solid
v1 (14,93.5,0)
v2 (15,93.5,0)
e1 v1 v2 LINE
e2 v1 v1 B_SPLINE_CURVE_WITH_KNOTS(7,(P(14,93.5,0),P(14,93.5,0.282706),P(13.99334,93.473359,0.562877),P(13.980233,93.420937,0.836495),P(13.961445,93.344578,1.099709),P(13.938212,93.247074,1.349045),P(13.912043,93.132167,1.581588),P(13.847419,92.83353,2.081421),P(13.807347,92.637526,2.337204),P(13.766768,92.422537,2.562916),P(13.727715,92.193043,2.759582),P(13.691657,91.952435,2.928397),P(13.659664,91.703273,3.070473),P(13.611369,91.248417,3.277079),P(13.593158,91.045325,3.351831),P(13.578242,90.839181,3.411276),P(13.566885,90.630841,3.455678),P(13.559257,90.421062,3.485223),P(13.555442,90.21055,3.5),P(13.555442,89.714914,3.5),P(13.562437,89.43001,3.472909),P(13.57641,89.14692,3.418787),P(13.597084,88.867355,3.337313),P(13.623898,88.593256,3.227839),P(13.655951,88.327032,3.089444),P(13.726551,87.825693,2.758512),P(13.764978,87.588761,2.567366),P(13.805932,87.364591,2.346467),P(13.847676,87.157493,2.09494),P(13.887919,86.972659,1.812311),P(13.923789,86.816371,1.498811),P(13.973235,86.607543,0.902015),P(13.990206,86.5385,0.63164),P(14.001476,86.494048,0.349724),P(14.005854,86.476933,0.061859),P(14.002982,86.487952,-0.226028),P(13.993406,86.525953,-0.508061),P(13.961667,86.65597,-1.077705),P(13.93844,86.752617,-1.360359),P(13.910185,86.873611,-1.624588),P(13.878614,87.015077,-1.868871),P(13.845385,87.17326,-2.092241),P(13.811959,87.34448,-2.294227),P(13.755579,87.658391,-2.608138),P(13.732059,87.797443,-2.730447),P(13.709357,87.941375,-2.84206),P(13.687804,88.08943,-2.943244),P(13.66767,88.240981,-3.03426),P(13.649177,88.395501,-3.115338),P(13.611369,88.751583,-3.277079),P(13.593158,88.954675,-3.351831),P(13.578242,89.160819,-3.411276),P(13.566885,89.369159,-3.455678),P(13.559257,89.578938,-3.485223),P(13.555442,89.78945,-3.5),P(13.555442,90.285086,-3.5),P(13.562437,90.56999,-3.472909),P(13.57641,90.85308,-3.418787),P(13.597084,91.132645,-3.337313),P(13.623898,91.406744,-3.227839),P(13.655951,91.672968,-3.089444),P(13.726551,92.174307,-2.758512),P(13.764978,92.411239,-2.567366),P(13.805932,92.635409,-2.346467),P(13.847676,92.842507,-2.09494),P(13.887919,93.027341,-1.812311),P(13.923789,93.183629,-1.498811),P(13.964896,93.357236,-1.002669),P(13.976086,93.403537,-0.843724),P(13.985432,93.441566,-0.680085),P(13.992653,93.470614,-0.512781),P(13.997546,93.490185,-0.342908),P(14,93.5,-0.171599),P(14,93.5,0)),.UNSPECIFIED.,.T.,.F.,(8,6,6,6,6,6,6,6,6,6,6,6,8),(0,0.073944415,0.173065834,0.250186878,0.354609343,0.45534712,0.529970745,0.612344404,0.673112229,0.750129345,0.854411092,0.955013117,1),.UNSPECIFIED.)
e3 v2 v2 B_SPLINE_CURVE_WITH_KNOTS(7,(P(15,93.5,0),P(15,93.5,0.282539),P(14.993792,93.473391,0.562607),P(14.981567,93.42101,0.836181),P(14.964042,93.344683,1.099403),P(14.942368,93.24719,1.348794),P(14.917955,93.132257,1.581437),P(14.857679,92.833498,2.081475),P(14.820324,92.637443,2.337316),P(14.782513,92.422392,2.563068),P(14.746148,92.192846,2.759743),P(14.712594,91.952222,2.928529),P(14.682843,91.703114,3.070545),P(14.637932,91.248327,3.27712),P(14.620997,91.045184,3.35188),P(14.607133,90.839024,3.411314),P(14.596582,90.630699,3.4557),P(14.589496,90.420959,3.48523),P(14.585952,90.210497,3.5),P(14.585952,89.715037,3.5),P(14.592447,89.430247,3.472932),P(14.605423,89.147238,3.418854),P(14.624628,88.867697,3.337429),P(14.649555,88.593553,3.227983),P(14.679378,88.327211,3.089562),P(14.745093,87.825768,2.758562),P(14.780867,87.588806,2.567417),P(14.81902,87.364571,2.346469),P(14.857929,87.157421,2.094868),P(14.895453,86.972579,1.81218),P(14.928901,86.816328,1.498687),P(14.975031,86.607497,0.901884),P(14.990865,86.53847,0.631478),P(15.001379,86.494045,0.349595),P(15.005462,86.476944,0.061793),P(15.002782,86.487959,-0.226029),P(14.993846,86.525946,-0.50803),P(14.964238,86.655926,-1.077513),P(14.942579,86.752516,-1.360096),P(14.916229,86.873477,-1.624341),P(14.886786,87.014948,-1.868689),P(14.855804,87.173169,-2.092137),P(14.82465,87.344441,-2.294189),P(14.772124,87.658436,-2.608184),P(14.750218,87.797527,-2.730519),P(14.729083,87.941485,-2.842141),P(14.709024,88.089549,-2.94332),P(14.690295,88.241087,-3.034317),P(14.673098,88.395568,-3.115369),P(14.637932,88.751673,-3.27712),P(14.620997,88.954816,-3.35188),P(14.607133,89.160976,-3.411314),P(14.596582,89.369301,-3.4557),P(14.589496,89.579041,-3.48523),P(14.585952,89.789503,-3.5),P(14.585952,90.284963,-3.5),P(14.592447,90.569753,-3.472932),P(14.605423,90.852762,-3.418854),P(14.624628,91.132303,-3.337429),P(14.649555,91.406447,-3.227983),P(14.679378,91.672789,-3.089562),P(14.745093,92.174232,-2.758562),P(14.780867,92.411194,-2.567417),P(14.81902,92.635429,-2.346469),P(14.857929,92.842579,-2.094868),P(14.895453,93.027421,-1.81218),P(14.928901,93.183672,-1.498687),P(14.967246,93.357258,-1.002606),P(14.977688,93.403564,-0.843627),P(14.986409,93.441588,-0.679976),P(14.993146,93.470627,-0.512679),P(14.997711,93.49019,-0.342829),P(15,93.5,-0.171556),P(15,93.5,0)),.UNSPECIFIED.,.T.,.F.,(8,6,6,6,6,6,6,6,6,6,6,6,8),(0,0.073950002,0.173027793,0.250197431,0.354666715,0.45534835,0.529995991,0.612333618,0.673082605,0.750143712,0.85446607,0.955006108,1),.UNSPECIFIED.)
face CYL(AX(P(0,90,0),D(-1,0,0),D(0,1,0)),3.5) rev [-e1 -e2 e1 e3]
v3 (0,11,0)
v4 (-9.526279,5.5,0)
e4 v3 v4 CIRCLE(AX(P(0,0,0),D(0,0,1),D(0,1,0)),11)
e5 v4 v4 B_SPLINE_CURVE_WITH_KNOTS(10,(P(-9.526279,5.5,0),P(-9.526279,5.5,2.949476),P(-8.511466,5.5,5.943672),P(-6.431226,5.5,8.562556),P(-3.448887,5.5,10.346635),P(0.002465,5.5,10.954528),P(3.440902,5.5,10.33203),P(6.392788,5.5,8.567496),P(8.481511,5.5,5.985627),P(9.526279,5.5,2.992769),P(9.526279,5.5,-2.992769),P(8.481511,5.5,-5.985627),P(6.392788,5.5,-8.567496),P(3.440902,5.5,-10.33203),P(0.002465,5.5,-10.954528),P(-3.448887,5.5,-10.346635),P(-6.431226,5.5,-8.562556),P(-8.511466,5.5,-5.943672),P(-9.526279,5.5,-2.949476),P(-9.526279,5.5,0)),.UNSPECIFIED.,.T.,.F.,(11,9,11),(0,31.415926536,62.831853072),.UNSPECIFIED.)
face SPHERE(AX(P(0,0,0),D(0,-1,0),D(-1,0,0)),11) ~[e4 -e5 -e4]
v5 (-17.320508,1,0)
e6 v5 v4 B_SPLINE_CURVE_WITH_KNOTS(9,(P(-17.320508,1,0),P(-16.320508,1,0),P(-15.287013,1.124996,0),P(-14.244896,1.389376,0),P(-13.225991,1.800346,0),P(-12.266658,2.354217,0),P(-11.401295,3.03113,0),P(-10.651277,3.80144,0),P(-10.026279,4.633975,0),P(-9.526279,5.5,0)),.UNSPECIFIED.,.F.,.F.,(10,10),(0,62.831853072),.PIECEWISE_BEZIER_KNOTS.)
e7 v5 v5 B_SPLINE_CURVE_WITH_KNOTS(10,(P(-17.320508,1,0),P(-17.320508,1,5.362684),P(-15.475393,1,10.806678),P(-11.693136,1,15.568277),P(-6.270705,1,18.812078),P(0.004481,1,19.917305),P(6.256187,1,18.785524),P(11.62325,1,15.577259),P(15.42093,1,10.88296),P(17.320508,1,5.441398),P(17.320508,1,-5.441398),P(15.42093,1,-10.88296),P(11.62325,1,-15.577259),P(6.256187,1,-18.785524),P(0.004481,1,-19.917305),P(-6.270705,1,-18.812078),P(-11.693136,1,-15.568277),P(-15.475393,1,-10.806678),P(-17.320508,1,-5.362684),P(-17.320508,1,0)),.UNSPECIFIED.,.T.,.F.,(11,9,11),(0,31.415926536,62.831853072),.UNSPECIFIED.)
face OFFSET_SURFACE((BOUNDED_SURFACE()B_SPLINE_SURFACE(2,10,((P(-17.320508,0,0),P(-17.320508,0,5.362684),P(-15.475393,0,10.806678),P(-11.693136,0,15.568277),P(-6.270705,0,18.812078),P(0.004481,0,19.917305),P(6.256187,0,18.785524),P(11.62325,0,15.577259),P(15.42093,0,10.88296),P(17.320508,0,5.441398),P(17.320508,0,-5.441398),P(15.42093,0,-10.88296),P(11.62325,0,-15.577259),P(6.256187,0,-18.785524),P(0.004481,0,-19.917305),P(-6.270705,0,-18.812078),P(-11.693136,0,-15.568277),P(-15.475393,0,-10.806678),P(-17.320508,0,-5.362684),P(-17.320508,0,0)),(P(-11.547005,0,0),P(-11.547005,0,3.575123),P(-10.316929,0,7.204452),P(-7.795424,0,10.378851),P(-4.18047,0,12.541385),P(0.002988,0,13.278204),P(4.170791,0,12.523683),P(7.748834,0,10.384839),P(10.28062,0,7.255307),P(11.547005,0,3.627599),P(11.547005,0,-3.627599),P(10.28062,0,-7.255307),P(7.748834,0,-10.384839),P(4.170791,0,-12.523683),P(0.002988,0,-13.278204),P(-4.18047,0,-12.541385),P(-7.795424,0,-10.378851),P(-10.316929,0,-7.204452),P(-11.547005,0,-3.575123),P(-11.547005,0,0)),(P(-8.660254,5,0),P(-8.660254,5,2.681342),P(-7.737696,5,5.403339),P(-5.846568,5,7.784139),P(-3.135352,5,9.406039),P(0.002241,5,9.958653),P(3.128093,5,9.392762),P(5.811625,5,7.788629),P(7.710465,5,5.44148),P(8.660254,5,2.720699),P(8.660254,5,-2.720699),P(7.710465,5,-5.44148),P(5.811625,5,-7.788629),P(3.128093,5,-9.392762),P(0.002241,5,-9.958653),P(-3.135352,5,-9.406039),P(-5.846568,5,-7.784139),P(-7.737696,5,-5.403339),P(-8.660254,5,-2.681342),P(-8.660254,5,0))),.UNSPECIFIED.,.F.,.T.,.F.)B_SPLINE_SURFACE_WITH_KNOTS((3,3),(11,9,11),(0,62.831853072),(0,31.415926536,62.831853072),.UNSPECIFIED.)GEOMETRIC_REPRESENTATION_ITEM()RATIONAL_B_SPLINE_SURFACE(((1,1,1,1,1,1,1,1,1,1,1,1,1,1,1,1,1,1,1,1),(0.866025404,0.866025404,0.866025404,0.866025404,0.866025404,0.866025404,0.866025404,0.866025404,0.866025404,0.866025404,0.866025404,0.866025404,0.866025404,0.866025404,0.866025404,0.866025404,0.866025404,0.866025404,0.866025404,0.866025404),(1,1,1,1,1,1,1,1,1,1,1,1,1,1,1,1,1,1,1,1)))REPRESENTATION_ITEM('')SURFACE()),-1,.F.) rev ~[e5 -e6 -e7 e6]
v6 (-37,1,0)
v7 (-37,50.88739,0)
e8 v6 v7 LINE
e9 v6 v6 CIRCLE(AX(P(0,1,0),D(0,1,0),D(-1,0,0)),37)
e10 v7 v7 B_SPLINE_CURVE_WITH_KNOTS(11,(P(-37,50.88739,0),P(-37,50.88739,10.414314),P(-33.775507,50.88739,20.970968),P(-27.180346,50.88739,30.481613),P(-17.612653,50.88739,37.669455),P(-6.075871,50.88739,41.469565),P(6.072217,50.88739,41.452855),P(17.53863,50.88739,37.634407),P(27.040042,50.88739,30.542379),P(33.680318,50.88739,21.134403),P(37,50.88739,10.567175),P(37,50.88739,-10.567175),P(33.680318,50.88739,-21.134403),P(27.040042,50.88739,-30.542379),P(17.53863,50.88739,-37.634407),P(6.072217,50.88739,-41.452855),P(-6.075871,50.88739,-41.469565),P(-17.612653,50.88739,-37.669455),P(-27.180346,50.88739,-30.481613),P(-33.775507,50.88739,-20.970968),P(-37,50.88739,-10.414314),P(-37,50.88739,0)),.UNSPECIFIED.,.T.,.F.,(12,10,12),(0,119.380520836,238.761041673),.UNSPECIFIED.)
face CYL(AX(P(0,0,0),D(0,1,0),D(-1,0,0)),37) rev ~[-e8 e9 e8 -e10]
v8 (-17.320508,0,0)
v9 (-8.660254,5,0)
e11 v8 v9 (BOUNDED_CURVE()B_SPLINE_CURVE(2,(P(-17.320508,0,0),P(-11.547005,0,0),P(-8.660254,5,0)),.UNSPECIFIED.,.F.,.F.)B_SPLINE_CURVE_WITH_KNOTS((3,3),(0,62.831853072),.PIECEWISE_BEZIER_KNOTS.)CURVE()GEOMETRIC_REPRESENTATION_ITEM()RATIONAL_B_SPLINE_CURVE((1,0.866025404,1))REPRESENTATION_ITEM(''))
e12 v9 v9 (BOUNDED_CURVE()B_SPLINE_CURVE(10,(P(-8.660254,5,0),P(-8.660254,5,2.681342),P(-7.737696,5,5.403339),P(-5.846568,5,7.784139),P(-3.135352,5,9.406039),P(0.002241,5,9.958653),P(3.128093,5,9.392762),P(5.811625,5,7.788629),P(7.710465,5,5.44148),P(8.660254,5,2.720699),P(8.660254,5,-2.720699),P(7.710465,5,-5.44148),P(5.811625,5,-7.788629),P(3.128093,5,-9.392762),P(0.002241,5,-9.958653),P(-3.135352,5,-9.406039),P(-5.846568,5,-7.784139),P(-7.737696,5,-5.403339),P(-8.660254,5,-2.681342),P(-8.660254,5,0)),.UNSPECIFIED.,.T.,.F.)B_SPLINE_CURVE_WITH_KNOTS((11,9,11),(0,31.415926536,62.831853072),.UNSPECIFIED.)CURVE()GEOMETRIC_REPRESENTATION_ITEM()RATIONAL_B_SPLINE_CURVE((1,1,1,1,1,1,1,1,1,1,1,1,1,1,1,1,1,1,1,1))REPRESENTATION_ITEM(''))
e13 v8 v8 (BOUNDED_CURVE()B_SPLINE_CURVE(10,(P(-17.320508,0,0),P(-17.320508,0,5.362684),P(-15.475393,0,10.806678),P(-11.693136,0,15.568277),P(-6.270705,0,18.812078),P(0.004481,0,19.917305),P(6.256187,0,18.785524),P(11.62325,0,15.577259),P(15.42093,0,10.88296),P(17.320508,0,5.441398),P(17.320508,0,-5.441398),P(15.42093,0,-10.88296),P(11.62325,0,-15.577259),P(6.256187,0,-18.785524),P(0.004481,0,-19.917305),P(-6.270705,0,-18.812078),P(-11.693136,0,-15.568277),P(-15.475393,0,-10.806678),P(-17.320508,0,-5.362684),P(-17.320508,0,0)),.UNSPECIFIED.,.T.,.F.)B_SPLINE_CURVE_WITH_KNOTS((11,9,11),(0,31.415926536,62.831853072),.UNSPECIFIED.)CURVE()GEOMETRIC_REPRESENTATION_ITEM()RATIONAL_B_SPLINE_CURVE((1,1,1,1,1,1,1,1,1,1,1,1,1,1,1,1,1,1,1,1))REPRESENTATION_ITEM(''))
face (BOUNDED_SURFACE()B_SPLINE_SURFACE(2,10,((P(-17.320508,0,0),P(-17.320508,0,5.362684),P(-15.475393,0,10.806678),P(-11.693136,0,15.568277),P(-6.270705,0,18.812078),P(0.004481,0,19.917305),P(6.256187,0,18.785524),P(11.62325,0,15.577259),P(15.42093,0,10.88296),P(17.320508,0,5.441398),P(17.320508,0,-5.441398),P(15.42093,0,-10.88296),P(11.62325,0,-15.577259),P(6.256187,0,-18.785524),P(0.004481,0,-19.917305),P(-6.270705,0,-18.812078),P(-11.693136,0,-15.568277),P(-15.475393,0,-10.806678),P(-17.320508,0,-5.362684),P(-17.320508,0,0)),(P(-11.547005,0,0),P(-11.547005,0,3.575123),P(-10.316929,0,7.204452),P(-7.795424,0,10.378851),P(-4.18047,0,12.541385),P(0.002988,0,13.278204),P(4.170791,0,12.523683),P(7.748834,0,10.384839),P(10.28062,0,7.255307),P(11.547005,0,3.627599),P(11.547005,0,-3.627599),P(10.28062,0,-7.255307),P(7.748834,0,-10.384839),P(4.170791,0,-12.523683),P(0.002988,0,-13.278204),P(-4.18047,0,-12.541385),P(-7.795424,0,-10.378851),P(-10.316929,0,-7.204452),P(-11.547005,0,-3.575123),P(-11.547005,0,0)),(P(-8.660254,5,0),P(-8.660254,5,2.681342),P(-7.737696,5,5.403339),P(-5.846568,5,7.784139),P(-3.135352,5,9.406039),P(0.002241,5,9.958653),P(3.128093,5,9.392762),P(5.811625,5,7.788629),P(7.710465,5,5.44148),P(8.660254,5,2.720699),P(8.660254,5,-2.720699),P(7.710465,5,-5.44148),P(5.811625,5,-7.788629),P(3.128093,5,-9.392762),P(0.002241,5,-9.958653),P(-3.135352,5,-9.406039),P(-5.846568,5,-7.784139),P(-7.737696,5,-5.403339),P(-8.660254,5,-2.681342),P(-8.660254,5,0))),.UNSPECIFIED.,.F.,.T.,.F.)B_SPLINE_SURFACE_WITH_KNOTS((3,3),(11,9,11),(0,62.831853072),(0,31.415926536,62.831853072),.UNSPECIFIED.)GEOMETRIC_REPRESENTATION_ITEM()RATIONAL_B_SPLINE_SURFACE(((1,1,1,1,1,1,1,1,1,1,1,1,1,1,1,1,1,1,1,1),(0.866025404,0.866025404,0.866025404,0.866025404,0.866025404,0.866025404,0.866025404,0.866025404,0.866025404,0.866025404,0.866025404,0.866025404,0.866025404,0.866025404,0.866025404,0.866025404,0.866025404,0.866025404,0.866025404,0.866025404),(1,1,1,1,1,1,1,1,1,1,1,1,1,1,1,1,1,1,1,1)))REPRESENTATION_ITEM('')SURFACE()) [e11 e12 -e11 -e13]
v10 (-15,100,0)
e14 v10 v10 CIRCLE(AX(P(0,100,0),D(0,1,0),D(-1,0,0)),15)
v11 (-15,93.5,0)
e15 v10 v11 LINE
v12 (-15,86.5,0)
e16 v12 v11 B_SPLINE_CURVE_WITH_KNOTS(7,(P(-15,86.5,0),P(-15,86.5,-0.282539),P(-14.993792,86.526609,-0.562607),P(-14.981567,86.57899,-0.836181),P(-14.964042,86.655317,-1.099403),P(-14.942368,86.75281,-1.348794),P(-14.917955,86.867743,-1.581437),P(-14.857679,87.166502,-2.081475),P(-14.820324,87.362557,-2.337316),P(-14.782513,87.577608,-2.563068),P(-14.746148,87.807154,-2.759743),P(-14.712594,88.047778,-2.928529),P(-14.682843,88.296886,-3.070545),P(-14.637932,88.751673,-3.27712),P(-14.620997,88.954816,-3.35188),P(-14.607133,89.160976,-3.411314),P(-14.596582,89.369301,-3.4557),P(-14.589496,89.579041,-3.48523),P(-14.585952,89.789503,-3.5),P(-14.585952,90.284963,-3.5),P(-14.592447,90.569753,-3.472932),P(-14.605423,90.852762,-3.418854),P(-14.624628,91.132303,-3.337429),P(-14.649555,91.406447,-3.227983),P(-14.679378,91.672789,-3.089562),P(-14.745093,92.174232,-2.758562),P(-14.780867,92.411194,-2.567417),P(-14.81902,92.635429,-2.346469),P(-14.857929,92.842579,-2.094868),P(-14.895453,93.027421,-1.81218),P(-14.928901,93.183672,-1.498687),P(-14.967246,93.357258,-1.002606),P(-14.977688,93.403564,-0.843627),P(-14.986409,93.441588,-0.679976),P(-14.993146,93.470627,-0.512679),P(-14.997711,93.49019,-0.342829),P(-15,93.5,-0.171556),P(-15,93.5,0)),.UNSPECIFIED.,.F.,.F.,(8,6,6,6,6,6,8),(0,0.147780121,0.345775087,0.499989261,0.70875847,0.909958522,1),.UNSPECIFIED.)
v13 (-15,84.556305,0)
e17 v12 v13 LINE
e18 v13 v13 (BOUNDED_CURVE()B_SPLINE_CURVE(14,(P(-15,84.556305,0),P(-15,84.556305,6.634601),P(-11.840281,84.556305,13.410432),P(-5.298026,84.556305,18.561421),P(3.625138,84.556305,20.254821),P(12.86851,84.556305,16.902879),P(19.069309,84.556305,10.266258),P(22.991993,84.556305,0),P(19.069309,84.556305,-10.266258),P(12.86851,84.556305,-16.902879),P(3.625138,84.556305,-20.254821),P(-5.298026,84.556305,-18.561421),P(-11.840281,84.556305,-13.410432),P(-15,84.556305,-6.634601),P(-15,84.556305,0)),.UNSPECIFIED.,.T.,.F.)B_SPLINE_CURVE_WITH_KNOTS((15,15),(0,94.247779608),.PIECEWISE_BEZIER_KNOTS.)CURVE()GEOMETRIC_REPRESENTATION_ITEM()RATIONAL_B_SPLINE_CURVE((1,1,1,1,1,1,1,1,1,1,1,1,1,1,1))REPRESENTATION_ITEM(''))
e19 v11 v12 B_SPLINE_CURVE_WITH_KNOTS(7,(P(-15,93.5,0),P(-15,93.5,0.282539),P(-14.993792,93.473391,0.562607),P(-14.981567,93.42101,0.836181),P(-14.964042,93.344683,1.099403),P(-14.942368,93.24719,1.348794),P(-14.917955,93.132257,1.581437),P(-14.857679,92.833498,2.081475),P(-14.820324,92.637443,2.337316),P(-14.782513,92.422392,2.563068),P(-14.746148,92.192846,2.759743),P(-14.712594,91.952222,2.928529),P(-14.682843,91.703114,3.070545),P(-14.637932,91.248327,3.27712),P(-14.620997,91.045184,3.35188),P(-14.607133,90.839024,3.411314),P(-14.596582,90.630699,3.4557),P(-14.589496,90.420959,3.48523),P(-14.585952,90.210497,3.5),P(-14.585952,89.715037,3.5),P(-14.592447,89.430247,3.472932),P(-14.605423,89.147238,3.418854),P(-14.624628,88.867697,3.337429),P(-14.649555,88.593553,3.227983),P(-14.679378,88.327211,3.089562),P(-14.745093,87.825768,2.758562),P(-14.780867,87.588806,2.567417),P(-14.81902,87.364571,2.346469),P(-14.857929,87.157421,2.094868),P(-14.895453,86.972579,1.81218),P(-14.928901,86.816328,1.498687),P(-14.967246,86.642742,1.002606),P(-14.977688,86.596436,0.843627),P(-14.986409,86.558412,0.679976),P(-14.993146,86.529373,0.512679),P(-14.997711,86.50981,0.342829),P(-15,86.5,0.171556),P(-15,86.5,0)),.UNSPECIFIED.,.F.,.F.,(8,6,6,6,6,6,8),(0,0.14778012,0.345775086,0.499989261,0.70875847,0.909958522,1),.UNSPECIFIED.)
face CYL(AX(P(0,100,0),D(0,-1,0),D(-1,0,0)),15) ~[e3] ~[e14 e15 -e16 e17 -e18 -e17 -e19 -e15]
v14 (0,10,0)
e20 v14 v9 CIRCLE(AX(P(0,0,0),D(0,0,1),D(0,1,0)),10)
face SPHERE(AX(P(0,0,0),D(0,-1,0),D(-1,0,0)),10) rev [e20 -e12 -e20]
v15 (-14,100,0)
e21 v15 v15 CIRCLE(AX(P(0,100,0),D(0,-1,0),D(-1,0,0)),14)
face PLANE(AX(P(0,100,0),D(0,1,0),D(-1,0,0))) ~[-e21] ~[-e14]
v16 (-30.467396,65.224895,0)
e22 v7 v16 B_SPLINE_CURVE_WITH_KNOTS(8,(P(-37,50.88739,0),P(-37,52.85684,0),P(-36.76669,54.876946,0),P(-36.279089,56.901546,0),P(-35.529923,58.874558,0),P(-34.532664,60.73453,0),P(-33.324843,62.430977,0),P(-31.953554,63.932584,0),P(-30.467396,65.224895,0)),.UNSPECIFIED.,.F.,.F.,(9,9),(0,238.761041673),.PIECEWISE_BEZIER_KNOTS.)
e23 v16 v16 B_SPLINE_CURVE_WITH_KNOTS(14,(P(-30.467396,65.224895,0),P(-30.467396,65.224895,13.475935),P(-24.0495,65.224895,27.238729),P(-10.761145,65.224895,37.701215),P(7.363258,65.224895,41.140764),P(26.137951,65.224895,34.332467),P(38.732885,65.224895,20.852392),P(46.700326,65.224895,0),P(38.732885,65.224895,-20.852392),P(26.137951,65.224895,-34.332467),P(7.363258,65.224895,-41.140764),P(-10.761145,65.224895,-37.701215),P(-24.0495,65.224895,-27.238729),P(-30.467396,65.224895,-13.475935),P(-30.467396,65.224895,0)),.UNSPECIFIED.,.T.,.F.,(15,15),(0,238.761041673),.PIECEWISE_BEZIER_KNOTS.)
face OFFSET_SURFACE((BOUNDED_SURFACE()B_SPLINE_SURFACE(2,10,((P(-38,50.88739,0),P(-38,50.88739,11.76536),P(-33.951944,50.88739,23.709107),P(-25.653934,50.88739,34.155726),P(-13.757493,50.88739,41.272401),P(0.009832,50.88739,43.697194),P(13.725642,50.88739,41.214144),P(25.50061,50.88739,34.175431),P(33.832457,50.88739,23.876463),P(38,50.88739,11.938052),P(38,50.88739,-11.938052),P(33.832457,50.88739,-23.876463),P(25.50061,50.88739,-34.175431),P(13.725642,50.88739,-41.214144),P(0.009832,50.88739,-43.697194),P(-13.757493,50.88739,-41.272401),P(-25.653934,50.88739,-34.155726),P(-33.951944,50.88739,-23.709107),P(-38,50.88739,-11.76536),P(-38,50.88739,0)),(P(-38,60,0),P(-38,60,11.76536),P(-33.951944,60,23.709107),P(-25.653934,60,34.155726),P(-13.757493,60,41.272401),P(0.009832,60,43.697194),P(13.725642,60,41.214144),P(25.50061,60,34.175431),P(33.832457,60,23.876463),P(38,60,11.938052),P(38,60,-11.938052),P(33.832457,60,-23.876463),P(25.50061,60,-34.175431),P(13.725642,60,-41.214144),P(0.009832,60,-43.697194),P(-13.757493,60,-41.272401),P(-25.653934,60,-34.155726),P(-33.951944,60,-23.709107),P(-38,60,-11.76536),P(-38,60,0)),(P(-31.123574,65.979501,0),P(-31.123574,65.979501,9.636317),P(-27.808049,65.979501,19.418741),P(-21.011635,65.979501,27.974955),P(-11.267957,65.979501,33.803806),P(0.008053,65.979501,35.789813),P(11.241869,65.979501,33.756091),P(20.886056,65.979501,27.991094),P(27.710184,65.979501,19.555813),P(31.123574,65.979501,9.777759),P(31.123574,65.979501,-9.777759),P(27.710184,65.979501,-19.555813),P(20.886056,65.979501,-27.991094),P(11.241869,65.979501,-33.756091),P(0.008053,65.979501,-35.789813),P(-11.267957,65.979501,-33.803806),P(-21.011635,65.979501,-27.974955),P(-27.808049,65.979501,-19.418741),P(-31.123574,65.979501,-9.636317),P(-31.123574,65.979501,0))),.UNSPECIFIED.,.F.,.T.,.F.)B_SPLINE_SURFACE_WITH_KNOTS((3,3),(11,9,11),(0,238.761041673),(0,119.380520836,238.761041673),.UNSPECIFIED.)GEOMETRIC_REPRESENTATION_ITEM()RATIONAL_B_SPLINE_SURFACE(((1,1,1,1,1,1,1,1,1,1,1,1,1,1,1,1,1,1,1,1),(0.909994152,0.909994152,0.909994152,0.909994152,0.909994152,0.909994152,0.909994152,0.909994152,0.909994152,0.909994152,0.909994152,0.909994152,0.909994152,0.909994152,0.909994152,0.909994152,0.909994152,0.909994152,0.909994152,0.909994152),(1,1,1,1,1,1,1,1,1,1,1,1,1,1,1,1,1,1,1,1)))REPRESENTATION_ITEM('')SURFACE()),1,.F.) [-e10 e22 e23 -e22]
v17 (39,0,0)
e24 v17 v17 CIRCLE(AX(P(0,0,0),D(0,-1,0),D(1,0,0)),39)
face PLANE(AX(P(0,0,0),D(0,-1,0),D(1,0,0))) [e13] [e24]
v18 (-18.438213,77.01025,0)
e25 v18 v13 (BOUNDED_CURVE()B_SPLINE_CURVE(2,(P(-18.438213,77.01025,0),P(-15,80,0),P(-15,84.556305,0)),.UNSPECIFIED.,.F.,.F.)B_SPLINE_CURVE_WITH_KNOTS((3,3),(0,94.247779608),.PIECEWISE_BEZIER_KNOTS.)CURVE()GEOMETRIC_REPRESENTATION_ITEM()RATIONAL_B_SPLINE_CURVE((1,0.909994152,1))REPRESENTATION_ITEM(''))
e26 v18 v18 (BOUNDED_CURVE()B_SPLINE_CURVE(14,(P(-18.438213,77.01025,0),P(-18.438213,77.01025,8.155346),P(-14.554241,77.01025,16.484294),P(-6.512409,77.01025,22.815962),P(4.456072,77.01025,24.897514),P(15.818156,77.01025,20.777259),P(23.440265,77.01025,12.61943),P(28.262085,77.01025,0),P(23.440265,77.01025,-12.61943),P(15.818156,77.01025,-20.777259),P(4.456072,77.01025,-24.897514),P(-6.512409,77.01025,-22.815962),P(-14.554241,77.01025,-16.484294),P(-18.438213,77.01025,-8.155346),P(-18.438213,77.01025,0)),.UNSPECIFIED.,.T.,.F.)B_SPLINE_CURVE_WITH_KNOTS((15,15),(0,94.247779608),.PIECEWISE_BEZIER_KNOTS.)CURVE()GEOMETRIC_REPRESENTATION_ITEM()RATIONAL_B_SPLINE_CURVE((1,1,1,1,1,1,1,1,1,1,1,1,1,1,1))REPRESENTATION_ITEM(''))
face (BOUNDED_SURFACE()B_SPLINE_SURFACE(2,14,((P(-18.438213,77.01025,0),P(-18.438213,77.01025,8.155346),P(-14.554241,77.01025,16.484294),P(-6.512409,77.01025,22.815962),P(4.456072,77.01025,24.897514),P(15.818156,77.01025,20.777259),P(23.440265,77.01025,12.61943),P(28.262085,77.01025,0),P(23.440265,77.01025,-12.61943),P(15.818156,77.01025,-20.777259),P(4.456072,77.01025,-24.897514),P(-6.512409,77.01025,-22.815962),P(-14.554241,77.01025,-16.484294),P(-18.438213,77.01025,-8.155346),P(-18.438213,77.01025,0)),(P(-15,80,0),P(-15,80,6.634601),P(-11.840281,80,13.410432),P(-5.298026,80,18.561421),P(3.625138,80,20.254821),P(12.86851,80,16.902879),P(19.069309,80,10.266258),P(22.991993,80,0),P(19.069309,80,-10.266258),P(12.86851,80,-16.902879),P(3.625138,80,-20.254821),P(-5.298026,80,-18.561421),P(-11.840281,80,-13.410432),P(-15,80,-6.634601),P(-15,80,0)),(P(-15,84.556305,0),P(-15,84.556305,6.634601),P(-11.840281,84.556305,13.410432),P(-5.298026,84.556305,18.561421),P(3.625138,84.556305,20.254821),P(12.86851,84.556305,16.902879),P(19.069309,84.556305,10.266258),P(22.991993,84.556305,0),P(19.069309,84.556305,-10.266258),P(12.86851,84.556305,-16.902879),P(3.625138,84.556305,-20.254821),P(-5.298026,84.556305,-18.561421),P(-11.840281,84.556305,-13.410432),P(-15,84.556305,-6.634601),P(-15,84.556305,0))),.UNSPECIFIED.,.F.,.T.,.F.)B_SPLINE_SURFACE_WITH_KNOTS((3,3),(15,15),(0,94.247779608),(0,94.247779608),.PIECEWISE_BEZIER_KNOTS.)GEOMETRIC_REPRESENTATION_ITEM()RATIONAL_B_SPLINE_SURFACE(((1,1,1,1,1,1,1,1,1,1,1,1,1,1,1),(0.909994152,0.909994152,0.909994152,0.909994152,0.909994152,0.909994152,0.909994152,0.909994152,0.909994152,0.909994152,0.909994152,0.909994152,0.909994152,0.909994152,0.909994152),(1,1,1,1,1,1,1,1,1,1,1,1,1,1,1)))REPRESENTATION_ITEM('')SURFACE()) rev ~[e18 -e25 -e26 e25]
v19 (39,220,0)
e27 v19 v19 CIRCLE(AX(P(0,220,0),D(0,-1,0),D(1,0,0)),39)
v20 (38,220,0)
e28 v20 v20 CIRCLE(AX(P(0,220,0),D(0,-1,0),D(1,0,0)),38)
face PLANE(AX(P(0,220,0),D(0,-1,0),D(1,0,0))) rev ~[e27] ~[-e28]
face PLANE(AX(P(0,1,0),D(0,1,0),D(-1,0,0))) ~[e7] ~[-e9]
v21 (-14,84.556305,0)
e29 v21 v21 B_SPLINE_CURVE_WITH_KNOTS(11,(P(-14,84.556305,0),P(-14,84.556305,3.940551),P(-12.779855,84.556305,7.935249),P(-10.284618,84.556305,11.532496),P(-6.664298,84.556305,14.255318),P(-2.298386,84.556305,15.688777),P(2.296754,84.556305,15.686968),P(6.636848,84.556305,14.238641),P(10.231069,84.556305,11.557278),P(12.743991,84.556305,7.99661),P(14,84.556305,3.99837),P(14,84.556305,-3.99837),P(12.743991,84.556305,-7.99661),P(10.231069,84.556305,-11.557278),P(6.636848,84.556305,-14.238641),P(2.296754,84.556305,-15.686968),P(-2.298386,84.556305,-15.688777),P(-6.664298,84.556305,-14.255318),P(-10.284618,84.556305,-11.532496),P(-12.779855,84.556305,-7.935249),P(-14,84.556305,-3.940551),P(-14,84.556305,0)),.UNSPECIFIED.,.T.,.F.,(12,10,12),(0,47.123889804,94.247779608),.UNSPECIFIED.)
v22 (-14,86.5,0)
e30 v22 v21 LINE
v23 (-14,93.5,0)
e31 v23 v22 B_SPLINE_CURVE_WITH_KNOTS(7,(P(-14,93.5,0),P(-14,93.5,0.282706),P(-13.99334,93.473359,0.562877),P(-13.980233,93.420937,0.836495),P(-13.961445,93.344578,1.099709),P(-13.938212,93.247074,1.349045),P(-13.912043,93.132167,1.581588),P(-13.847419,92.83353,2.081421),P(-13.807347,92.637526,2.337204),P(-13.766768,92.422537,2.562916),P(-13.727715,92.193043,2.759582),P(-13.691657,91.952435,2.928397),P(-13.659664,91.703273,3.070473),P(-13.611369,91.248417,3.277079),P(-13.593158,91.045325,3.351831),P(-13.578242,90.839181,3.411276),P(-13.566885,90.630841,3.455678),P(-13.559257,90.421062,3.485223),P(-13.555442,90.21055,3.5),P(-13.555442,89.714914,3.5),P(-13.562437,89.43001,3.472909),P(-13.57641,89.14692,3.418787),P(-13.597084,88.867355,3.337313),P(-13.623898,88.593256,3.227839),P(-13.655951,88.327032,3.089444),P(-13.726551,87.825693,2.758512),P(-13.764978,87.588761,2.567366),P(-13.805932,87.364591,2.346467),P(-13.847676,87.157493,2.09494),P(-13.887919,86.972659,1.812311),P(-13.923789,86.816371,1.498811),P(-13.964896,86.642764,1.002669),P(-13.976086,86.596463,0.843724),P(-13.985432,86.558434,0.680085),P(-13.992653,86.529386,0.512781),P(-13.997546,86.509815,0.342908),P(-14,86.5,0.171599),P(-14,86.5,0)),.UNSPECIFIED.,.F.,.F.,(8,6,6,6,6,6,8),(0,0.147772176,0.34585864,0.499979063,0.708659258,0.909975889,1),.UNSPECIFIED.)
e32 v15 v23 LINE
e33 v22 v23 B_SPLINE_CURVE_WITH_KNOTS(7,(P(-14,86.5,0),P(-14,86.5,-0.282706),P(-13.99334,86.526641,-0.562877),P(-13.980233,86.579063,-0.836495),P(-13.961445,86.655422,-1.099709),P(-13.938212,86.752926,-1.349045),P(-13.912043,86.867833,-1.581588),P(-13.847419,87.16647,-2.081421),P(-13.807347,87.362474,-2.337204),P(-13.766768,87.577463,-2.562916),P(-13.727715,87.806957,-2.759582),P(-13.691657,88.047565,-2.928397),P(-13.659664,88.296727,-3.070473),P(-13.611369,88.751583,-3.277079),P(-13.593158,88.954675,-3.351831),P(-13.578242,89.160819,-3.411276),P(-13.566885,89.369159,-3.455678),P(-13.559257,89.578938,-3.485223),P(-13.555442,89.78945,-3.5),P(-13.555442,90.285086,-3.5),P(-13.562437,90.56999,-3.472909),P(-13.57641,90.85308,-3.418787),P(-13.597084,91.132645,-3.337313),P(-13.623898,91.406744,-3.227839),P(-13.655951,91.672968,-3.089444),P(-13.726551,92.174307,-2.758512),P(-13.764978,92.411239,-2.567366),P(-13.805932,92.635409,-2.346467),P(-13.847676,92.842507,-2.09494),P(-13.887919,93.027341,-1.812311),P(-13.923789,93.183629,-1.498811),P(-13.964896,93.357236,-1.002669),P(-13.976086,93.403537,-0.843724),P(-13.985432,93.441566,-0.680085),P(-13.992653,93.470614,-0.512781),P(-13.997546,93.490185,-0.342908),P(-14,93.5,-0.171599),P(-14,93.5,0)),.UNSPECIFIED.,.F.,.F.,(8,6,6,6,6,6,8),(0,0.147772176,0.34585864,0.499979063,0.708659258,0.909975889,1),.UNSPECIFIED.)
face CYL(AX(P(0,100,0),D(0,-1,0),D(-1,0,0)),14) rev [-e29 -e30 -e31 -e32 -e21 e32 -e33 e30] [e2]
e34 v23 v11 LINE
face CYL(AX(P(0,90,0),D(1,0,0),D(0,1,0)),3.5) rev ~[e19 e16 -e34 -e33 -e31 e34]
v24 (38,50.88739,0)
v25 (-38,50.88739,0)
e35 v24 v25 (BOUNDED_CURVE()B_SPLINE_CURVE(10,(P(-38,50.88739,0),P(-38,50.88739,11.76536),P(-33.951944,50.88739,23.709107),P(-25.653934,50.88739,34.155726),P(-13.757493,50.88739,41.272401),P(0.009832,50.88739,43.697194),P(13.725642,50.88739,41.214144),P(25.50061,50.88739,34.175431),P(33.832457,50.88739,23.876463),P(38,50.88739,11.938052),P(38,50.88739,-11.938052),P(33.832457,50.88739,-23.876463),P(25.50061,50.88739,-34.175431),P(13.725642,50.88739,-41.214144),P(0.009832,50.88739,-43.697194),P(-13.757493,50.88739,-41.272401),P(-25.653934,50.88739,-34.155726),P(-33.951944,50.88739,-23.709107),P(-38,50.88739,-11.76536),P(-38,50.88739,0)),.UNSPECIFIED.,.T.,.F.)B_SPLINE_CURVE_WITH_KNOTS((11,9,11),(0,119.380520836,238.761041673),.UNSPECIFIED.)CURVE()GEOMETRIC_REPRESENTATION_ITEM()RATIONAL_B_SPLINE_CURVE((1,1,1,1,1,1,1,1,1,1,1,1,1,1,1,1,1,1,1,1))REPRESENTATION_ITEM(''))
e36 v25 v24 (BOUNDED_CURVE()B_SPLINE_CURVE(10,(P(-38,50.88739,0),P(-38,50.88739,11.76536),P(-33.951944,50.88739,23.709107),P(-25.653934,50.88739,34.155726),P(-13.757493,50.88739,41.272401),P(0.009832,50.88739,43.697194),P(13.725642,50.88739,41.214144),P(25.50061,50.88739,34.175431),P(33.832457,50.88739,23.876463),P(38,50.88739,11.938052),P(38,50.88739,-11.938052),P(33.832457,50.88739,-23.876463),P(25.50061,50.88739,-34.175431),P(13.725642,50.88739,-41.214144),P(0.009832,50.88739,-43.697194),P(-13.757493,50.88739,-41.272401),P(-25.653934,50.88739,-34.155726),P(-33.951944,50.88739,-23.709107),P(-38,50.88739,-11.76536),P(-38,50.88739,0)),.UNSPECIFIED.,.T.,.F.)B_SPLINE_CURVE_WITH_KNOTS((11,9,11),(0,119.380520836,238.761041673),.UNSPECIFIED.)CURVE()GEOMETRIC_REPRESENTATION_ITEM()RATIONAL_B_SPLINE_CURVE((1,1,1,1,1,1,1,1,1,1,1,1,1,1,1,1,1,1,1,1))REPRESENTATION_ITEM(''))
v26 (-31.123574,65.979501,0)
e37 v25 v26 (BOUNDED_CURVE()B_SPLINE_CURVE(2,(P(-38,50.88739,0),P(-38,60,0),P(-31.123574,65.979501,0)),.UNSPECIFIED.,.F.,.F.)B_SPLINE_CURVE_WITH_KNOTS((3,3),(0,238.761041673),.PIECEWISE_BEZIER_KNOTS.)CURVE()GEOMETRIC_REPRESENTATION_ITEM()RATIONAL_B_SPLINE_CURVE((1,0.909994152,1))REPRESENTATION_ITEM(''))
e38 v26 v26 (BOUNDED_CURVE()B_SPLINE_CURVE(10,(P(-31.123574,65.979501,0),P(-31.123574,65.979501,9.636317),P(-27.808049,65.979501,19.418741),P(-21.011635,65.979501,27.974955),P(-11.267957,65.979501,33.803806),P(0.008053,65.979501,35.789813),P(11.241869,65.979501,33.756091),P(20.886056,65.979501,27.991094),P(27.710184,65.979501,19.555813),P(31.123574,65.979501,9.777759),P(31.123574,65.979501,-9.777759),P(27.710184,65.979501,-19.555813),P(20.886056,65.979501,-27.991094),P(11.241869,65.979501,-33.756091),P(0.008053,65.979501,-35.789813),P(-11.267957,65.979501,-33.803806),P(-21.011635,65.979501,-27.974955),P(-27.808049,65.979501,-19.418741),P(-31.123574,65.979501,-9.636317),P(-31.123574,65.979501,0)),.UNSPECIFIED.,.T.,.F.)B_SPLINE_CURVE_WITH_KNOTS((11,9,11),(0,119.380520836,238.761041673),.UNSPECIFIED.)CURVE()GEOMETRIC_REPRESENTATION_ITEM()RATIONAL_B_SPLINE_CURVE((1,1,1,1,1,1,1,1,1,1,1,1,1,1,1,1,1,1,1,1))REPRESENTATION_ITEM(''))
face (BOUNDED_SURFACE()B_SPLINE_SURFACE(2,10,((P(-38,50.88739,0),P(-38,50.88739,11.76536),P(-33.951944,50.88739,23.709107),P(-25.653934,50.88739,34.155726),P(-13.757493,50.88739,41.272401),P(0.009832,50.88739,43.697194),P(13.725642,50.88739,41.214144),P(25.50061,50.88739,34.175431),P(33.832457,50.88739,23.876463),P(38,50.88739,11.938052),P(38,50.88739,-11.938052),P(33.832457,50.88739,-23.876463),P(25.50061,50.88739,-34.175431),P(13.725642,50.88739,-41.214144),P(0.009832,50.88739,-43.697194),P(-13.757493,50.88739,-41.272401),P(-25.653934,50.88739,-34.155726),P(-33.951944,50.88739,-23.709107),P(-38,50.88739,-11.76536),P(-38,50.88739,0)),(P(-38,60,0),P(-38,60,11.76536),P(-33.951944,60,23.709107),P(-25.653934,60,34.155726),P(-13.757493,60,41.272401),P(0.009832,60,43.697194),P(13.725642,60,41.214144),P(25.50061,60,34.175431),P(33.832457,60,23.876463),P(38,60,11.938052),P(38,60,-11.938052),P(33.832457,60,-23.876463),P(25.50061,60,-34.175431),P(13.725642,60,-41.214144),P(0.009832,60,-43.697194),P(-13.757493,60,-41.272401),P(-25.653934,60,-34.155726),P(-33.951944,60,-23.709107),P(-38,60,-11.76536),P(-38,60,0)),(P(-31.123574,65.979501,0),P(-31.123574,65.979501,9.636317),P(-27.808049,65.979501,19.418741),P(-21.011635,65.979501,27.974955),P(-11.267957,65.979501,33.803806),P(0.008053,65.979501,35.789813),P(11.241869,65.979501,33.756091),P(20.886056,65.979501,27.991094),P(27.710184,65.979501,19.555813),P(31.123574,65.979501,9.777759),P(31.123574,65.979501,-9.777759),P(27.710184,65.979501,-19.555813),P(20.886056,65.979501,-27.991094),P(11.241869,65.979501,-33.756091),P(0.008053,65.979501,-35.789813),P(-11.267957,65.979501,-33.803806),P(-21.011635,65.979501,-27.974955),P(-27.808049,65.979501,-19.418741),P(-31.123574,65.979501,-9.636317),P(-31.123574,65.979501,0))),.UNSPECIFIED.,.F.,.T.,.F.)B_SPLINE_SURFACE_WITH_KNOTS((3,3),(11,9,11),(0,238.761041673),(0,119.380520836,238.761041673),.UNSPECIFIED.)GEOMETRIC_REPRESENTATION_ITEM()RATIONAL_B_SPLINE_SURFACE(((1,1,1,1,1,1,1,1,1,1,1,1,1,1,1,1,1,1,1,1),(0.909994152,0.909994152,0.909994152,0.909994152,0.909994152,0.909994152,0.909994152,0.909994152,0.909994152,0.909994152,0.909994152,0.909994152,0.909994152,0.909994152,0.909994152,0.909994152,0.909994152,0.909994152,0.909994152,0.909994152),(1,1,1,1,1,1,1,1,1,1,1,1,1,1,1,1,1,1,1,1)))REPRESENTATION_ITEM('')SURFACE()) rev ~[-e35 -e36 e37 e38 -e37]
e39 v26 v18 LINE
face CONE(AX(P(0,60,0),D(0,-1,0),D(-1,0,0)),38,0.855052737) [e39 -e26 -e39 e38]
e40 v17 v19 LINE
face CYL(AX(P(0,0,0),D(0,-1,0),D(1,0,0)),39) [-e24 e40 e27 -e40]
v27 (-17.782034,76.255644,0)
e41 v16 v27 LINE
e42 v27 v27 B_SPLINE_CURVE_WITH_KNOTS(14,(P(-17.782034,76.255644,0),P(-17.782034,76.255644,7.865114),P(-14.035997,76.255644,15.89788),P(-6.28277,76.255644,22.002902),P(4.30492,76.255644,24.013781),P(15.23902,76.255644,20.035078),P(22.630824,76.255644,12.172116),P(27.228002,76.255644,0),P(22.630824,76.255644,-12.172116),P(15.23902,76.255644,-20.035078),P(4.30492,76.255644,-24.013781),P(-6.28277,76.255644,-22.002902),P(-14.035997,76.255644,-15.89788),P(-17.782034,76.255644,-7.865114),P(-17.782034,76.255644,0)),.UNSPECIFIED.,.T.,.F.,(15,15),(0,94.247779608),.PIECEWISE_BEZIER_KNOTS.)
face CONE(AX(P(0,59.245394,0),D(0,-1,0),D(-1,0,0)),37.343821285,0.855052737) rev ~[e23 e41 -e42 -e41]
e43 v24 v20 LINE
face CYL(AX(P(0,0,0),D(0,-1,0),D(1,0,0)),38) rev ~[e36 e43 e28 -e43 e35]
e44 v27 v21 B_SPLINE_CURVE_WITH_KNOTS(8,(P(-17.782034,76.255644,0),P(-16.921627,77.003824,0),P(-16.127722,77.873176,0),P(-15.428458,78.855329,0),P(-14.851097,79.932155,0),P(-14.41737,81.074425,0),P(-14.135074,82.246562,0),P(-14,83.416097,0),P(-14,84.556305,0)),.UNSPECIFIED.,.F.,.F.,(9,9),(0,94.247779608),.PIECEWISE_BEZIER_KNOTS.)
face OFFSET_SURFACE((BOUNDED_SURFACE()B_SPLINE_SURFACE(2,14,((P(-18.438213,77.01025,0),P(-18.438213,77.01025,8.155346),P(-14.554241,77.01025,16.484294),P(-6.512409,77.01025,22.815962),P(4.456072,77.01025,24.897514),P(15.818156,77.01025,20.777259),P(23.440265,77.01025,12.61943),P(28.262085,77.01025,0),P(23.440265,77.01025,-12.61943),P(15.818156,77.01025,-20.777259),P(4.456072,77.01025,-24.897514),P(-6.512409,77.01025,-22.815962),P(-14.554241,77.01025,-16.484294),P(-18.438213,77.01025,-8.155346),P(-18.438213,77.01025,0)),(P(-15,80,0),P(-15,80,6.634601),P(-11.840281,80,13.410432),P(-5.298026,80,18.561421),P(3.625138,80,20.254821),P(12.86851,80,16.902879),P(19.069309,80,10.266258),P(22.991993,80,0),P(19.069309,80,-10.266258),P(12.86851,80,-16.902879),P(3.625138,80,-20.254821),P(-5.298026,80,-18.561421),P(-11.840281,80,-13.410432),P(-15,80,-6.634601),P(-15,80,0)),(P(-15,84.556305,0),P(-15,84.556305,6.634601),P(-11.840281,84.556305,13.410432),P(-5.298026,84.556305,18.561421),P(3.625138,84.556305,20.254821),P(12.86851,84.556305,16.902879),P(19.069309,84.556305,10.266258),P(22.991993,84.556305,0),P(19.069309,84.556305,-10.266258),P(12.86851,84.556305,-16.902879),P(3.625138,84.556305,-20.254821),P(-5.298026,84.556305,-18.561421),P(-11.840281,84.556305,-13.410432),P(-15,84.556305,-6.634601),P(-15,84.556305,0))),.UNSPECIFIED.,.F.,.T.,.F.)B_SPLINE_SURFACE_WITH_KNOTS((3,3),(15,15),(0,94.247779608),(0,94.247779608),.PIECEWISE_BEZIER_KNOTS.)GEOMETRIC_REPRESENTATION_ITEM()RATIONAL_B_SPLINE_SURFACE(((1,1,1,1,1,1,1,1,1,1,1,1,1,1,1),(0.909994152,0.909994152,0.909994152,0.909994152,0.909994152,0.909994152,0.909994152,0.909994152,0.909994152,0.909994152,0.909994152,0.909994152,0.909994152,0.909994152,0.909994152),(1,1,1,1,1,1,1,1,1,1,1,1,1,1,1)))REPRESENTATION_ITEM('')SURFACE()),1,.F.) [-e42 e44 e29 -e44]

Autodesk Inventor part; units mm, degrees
ref_plane "YZ Plane" through (0, 0, 0) normal (1, 0, 0) x (0, 1, 0)
ref_plane "XZ Plane" through (0, 0, 0) normal (0, 1, 0) x (-1, 0, 0)
ref_plane "XY Plane" through (0, 0, 0) normal (0, 0, 1) x (1, 0, 0)
sketch "Sketch1" plane through (0, 0, 0) normal (0, 0, 1) x (1, 0, 0)
  line L0 (-10, 0) -> (-38, 0)
  line L1 (-38, 0) -> (-38, 60)
  arc A0 (0, 10) -> (-10, 0) centre (0, 0) ccw
  line L2 (0, 10) -> (0, 100)
  line L3 (0, 100) -> (-15, 100)
  line L4 (-15, 100) -> (-15, 80)
  line L5 (0, 10) -> (0, 0)
  line L6 (-38, 60) -> (-15, 80)
  dimension "d5" = 60
  dimension "d9" = 20
  dimension "d11" = 15
  dimension "d12" = 20
revolve "Revolution1" add sketch "Sketch1" angle 360 about axis through (0, 10, 0) along (0, 1, 0)
fillet "Fillet1" radius 10 1 edges at (15, 80, 0)
fillet "Fillet1" radius 20 1 edges at (38, 60, 0)
fillet "Fillet3" radius 10 1 edges at (10, 0, 0)
shell "Shell1" thickness 1 removed faces 1 at (4.4273, 100, -2.3236)
sketch "Sketch2" plane through (0, 0, 0) normal (1, 0, 0) x (0, 1, 0)
  line L0 (100, -15) -> (100, 15) projected
  line L1 (100, 0) -> (90, 0)
  circle A0 centre (90, 0) radius 3.5
  point P0 (0, 0)
  dimension "d20" = 10
  dimension "d21" = 7
extrude "Extrusion1" cut sketch "Sketch2" along normal mid plane 50
sketch "Sketch3" plane through (0, 0, 0) normal (0, -1, 0) x (1, 0, 0)
  circle A0 centre (0, 0) radius 37 projected
  circle A1 centre (0, 0) radius 38
  circle A2 centre (0, 0) radius 39
  dimension "d24" = 76
  dimension "d25" = 78
extrude "Extrusion2" add sketch "Sketch3" against normal blind 220 contours A2
properties part number "1"
